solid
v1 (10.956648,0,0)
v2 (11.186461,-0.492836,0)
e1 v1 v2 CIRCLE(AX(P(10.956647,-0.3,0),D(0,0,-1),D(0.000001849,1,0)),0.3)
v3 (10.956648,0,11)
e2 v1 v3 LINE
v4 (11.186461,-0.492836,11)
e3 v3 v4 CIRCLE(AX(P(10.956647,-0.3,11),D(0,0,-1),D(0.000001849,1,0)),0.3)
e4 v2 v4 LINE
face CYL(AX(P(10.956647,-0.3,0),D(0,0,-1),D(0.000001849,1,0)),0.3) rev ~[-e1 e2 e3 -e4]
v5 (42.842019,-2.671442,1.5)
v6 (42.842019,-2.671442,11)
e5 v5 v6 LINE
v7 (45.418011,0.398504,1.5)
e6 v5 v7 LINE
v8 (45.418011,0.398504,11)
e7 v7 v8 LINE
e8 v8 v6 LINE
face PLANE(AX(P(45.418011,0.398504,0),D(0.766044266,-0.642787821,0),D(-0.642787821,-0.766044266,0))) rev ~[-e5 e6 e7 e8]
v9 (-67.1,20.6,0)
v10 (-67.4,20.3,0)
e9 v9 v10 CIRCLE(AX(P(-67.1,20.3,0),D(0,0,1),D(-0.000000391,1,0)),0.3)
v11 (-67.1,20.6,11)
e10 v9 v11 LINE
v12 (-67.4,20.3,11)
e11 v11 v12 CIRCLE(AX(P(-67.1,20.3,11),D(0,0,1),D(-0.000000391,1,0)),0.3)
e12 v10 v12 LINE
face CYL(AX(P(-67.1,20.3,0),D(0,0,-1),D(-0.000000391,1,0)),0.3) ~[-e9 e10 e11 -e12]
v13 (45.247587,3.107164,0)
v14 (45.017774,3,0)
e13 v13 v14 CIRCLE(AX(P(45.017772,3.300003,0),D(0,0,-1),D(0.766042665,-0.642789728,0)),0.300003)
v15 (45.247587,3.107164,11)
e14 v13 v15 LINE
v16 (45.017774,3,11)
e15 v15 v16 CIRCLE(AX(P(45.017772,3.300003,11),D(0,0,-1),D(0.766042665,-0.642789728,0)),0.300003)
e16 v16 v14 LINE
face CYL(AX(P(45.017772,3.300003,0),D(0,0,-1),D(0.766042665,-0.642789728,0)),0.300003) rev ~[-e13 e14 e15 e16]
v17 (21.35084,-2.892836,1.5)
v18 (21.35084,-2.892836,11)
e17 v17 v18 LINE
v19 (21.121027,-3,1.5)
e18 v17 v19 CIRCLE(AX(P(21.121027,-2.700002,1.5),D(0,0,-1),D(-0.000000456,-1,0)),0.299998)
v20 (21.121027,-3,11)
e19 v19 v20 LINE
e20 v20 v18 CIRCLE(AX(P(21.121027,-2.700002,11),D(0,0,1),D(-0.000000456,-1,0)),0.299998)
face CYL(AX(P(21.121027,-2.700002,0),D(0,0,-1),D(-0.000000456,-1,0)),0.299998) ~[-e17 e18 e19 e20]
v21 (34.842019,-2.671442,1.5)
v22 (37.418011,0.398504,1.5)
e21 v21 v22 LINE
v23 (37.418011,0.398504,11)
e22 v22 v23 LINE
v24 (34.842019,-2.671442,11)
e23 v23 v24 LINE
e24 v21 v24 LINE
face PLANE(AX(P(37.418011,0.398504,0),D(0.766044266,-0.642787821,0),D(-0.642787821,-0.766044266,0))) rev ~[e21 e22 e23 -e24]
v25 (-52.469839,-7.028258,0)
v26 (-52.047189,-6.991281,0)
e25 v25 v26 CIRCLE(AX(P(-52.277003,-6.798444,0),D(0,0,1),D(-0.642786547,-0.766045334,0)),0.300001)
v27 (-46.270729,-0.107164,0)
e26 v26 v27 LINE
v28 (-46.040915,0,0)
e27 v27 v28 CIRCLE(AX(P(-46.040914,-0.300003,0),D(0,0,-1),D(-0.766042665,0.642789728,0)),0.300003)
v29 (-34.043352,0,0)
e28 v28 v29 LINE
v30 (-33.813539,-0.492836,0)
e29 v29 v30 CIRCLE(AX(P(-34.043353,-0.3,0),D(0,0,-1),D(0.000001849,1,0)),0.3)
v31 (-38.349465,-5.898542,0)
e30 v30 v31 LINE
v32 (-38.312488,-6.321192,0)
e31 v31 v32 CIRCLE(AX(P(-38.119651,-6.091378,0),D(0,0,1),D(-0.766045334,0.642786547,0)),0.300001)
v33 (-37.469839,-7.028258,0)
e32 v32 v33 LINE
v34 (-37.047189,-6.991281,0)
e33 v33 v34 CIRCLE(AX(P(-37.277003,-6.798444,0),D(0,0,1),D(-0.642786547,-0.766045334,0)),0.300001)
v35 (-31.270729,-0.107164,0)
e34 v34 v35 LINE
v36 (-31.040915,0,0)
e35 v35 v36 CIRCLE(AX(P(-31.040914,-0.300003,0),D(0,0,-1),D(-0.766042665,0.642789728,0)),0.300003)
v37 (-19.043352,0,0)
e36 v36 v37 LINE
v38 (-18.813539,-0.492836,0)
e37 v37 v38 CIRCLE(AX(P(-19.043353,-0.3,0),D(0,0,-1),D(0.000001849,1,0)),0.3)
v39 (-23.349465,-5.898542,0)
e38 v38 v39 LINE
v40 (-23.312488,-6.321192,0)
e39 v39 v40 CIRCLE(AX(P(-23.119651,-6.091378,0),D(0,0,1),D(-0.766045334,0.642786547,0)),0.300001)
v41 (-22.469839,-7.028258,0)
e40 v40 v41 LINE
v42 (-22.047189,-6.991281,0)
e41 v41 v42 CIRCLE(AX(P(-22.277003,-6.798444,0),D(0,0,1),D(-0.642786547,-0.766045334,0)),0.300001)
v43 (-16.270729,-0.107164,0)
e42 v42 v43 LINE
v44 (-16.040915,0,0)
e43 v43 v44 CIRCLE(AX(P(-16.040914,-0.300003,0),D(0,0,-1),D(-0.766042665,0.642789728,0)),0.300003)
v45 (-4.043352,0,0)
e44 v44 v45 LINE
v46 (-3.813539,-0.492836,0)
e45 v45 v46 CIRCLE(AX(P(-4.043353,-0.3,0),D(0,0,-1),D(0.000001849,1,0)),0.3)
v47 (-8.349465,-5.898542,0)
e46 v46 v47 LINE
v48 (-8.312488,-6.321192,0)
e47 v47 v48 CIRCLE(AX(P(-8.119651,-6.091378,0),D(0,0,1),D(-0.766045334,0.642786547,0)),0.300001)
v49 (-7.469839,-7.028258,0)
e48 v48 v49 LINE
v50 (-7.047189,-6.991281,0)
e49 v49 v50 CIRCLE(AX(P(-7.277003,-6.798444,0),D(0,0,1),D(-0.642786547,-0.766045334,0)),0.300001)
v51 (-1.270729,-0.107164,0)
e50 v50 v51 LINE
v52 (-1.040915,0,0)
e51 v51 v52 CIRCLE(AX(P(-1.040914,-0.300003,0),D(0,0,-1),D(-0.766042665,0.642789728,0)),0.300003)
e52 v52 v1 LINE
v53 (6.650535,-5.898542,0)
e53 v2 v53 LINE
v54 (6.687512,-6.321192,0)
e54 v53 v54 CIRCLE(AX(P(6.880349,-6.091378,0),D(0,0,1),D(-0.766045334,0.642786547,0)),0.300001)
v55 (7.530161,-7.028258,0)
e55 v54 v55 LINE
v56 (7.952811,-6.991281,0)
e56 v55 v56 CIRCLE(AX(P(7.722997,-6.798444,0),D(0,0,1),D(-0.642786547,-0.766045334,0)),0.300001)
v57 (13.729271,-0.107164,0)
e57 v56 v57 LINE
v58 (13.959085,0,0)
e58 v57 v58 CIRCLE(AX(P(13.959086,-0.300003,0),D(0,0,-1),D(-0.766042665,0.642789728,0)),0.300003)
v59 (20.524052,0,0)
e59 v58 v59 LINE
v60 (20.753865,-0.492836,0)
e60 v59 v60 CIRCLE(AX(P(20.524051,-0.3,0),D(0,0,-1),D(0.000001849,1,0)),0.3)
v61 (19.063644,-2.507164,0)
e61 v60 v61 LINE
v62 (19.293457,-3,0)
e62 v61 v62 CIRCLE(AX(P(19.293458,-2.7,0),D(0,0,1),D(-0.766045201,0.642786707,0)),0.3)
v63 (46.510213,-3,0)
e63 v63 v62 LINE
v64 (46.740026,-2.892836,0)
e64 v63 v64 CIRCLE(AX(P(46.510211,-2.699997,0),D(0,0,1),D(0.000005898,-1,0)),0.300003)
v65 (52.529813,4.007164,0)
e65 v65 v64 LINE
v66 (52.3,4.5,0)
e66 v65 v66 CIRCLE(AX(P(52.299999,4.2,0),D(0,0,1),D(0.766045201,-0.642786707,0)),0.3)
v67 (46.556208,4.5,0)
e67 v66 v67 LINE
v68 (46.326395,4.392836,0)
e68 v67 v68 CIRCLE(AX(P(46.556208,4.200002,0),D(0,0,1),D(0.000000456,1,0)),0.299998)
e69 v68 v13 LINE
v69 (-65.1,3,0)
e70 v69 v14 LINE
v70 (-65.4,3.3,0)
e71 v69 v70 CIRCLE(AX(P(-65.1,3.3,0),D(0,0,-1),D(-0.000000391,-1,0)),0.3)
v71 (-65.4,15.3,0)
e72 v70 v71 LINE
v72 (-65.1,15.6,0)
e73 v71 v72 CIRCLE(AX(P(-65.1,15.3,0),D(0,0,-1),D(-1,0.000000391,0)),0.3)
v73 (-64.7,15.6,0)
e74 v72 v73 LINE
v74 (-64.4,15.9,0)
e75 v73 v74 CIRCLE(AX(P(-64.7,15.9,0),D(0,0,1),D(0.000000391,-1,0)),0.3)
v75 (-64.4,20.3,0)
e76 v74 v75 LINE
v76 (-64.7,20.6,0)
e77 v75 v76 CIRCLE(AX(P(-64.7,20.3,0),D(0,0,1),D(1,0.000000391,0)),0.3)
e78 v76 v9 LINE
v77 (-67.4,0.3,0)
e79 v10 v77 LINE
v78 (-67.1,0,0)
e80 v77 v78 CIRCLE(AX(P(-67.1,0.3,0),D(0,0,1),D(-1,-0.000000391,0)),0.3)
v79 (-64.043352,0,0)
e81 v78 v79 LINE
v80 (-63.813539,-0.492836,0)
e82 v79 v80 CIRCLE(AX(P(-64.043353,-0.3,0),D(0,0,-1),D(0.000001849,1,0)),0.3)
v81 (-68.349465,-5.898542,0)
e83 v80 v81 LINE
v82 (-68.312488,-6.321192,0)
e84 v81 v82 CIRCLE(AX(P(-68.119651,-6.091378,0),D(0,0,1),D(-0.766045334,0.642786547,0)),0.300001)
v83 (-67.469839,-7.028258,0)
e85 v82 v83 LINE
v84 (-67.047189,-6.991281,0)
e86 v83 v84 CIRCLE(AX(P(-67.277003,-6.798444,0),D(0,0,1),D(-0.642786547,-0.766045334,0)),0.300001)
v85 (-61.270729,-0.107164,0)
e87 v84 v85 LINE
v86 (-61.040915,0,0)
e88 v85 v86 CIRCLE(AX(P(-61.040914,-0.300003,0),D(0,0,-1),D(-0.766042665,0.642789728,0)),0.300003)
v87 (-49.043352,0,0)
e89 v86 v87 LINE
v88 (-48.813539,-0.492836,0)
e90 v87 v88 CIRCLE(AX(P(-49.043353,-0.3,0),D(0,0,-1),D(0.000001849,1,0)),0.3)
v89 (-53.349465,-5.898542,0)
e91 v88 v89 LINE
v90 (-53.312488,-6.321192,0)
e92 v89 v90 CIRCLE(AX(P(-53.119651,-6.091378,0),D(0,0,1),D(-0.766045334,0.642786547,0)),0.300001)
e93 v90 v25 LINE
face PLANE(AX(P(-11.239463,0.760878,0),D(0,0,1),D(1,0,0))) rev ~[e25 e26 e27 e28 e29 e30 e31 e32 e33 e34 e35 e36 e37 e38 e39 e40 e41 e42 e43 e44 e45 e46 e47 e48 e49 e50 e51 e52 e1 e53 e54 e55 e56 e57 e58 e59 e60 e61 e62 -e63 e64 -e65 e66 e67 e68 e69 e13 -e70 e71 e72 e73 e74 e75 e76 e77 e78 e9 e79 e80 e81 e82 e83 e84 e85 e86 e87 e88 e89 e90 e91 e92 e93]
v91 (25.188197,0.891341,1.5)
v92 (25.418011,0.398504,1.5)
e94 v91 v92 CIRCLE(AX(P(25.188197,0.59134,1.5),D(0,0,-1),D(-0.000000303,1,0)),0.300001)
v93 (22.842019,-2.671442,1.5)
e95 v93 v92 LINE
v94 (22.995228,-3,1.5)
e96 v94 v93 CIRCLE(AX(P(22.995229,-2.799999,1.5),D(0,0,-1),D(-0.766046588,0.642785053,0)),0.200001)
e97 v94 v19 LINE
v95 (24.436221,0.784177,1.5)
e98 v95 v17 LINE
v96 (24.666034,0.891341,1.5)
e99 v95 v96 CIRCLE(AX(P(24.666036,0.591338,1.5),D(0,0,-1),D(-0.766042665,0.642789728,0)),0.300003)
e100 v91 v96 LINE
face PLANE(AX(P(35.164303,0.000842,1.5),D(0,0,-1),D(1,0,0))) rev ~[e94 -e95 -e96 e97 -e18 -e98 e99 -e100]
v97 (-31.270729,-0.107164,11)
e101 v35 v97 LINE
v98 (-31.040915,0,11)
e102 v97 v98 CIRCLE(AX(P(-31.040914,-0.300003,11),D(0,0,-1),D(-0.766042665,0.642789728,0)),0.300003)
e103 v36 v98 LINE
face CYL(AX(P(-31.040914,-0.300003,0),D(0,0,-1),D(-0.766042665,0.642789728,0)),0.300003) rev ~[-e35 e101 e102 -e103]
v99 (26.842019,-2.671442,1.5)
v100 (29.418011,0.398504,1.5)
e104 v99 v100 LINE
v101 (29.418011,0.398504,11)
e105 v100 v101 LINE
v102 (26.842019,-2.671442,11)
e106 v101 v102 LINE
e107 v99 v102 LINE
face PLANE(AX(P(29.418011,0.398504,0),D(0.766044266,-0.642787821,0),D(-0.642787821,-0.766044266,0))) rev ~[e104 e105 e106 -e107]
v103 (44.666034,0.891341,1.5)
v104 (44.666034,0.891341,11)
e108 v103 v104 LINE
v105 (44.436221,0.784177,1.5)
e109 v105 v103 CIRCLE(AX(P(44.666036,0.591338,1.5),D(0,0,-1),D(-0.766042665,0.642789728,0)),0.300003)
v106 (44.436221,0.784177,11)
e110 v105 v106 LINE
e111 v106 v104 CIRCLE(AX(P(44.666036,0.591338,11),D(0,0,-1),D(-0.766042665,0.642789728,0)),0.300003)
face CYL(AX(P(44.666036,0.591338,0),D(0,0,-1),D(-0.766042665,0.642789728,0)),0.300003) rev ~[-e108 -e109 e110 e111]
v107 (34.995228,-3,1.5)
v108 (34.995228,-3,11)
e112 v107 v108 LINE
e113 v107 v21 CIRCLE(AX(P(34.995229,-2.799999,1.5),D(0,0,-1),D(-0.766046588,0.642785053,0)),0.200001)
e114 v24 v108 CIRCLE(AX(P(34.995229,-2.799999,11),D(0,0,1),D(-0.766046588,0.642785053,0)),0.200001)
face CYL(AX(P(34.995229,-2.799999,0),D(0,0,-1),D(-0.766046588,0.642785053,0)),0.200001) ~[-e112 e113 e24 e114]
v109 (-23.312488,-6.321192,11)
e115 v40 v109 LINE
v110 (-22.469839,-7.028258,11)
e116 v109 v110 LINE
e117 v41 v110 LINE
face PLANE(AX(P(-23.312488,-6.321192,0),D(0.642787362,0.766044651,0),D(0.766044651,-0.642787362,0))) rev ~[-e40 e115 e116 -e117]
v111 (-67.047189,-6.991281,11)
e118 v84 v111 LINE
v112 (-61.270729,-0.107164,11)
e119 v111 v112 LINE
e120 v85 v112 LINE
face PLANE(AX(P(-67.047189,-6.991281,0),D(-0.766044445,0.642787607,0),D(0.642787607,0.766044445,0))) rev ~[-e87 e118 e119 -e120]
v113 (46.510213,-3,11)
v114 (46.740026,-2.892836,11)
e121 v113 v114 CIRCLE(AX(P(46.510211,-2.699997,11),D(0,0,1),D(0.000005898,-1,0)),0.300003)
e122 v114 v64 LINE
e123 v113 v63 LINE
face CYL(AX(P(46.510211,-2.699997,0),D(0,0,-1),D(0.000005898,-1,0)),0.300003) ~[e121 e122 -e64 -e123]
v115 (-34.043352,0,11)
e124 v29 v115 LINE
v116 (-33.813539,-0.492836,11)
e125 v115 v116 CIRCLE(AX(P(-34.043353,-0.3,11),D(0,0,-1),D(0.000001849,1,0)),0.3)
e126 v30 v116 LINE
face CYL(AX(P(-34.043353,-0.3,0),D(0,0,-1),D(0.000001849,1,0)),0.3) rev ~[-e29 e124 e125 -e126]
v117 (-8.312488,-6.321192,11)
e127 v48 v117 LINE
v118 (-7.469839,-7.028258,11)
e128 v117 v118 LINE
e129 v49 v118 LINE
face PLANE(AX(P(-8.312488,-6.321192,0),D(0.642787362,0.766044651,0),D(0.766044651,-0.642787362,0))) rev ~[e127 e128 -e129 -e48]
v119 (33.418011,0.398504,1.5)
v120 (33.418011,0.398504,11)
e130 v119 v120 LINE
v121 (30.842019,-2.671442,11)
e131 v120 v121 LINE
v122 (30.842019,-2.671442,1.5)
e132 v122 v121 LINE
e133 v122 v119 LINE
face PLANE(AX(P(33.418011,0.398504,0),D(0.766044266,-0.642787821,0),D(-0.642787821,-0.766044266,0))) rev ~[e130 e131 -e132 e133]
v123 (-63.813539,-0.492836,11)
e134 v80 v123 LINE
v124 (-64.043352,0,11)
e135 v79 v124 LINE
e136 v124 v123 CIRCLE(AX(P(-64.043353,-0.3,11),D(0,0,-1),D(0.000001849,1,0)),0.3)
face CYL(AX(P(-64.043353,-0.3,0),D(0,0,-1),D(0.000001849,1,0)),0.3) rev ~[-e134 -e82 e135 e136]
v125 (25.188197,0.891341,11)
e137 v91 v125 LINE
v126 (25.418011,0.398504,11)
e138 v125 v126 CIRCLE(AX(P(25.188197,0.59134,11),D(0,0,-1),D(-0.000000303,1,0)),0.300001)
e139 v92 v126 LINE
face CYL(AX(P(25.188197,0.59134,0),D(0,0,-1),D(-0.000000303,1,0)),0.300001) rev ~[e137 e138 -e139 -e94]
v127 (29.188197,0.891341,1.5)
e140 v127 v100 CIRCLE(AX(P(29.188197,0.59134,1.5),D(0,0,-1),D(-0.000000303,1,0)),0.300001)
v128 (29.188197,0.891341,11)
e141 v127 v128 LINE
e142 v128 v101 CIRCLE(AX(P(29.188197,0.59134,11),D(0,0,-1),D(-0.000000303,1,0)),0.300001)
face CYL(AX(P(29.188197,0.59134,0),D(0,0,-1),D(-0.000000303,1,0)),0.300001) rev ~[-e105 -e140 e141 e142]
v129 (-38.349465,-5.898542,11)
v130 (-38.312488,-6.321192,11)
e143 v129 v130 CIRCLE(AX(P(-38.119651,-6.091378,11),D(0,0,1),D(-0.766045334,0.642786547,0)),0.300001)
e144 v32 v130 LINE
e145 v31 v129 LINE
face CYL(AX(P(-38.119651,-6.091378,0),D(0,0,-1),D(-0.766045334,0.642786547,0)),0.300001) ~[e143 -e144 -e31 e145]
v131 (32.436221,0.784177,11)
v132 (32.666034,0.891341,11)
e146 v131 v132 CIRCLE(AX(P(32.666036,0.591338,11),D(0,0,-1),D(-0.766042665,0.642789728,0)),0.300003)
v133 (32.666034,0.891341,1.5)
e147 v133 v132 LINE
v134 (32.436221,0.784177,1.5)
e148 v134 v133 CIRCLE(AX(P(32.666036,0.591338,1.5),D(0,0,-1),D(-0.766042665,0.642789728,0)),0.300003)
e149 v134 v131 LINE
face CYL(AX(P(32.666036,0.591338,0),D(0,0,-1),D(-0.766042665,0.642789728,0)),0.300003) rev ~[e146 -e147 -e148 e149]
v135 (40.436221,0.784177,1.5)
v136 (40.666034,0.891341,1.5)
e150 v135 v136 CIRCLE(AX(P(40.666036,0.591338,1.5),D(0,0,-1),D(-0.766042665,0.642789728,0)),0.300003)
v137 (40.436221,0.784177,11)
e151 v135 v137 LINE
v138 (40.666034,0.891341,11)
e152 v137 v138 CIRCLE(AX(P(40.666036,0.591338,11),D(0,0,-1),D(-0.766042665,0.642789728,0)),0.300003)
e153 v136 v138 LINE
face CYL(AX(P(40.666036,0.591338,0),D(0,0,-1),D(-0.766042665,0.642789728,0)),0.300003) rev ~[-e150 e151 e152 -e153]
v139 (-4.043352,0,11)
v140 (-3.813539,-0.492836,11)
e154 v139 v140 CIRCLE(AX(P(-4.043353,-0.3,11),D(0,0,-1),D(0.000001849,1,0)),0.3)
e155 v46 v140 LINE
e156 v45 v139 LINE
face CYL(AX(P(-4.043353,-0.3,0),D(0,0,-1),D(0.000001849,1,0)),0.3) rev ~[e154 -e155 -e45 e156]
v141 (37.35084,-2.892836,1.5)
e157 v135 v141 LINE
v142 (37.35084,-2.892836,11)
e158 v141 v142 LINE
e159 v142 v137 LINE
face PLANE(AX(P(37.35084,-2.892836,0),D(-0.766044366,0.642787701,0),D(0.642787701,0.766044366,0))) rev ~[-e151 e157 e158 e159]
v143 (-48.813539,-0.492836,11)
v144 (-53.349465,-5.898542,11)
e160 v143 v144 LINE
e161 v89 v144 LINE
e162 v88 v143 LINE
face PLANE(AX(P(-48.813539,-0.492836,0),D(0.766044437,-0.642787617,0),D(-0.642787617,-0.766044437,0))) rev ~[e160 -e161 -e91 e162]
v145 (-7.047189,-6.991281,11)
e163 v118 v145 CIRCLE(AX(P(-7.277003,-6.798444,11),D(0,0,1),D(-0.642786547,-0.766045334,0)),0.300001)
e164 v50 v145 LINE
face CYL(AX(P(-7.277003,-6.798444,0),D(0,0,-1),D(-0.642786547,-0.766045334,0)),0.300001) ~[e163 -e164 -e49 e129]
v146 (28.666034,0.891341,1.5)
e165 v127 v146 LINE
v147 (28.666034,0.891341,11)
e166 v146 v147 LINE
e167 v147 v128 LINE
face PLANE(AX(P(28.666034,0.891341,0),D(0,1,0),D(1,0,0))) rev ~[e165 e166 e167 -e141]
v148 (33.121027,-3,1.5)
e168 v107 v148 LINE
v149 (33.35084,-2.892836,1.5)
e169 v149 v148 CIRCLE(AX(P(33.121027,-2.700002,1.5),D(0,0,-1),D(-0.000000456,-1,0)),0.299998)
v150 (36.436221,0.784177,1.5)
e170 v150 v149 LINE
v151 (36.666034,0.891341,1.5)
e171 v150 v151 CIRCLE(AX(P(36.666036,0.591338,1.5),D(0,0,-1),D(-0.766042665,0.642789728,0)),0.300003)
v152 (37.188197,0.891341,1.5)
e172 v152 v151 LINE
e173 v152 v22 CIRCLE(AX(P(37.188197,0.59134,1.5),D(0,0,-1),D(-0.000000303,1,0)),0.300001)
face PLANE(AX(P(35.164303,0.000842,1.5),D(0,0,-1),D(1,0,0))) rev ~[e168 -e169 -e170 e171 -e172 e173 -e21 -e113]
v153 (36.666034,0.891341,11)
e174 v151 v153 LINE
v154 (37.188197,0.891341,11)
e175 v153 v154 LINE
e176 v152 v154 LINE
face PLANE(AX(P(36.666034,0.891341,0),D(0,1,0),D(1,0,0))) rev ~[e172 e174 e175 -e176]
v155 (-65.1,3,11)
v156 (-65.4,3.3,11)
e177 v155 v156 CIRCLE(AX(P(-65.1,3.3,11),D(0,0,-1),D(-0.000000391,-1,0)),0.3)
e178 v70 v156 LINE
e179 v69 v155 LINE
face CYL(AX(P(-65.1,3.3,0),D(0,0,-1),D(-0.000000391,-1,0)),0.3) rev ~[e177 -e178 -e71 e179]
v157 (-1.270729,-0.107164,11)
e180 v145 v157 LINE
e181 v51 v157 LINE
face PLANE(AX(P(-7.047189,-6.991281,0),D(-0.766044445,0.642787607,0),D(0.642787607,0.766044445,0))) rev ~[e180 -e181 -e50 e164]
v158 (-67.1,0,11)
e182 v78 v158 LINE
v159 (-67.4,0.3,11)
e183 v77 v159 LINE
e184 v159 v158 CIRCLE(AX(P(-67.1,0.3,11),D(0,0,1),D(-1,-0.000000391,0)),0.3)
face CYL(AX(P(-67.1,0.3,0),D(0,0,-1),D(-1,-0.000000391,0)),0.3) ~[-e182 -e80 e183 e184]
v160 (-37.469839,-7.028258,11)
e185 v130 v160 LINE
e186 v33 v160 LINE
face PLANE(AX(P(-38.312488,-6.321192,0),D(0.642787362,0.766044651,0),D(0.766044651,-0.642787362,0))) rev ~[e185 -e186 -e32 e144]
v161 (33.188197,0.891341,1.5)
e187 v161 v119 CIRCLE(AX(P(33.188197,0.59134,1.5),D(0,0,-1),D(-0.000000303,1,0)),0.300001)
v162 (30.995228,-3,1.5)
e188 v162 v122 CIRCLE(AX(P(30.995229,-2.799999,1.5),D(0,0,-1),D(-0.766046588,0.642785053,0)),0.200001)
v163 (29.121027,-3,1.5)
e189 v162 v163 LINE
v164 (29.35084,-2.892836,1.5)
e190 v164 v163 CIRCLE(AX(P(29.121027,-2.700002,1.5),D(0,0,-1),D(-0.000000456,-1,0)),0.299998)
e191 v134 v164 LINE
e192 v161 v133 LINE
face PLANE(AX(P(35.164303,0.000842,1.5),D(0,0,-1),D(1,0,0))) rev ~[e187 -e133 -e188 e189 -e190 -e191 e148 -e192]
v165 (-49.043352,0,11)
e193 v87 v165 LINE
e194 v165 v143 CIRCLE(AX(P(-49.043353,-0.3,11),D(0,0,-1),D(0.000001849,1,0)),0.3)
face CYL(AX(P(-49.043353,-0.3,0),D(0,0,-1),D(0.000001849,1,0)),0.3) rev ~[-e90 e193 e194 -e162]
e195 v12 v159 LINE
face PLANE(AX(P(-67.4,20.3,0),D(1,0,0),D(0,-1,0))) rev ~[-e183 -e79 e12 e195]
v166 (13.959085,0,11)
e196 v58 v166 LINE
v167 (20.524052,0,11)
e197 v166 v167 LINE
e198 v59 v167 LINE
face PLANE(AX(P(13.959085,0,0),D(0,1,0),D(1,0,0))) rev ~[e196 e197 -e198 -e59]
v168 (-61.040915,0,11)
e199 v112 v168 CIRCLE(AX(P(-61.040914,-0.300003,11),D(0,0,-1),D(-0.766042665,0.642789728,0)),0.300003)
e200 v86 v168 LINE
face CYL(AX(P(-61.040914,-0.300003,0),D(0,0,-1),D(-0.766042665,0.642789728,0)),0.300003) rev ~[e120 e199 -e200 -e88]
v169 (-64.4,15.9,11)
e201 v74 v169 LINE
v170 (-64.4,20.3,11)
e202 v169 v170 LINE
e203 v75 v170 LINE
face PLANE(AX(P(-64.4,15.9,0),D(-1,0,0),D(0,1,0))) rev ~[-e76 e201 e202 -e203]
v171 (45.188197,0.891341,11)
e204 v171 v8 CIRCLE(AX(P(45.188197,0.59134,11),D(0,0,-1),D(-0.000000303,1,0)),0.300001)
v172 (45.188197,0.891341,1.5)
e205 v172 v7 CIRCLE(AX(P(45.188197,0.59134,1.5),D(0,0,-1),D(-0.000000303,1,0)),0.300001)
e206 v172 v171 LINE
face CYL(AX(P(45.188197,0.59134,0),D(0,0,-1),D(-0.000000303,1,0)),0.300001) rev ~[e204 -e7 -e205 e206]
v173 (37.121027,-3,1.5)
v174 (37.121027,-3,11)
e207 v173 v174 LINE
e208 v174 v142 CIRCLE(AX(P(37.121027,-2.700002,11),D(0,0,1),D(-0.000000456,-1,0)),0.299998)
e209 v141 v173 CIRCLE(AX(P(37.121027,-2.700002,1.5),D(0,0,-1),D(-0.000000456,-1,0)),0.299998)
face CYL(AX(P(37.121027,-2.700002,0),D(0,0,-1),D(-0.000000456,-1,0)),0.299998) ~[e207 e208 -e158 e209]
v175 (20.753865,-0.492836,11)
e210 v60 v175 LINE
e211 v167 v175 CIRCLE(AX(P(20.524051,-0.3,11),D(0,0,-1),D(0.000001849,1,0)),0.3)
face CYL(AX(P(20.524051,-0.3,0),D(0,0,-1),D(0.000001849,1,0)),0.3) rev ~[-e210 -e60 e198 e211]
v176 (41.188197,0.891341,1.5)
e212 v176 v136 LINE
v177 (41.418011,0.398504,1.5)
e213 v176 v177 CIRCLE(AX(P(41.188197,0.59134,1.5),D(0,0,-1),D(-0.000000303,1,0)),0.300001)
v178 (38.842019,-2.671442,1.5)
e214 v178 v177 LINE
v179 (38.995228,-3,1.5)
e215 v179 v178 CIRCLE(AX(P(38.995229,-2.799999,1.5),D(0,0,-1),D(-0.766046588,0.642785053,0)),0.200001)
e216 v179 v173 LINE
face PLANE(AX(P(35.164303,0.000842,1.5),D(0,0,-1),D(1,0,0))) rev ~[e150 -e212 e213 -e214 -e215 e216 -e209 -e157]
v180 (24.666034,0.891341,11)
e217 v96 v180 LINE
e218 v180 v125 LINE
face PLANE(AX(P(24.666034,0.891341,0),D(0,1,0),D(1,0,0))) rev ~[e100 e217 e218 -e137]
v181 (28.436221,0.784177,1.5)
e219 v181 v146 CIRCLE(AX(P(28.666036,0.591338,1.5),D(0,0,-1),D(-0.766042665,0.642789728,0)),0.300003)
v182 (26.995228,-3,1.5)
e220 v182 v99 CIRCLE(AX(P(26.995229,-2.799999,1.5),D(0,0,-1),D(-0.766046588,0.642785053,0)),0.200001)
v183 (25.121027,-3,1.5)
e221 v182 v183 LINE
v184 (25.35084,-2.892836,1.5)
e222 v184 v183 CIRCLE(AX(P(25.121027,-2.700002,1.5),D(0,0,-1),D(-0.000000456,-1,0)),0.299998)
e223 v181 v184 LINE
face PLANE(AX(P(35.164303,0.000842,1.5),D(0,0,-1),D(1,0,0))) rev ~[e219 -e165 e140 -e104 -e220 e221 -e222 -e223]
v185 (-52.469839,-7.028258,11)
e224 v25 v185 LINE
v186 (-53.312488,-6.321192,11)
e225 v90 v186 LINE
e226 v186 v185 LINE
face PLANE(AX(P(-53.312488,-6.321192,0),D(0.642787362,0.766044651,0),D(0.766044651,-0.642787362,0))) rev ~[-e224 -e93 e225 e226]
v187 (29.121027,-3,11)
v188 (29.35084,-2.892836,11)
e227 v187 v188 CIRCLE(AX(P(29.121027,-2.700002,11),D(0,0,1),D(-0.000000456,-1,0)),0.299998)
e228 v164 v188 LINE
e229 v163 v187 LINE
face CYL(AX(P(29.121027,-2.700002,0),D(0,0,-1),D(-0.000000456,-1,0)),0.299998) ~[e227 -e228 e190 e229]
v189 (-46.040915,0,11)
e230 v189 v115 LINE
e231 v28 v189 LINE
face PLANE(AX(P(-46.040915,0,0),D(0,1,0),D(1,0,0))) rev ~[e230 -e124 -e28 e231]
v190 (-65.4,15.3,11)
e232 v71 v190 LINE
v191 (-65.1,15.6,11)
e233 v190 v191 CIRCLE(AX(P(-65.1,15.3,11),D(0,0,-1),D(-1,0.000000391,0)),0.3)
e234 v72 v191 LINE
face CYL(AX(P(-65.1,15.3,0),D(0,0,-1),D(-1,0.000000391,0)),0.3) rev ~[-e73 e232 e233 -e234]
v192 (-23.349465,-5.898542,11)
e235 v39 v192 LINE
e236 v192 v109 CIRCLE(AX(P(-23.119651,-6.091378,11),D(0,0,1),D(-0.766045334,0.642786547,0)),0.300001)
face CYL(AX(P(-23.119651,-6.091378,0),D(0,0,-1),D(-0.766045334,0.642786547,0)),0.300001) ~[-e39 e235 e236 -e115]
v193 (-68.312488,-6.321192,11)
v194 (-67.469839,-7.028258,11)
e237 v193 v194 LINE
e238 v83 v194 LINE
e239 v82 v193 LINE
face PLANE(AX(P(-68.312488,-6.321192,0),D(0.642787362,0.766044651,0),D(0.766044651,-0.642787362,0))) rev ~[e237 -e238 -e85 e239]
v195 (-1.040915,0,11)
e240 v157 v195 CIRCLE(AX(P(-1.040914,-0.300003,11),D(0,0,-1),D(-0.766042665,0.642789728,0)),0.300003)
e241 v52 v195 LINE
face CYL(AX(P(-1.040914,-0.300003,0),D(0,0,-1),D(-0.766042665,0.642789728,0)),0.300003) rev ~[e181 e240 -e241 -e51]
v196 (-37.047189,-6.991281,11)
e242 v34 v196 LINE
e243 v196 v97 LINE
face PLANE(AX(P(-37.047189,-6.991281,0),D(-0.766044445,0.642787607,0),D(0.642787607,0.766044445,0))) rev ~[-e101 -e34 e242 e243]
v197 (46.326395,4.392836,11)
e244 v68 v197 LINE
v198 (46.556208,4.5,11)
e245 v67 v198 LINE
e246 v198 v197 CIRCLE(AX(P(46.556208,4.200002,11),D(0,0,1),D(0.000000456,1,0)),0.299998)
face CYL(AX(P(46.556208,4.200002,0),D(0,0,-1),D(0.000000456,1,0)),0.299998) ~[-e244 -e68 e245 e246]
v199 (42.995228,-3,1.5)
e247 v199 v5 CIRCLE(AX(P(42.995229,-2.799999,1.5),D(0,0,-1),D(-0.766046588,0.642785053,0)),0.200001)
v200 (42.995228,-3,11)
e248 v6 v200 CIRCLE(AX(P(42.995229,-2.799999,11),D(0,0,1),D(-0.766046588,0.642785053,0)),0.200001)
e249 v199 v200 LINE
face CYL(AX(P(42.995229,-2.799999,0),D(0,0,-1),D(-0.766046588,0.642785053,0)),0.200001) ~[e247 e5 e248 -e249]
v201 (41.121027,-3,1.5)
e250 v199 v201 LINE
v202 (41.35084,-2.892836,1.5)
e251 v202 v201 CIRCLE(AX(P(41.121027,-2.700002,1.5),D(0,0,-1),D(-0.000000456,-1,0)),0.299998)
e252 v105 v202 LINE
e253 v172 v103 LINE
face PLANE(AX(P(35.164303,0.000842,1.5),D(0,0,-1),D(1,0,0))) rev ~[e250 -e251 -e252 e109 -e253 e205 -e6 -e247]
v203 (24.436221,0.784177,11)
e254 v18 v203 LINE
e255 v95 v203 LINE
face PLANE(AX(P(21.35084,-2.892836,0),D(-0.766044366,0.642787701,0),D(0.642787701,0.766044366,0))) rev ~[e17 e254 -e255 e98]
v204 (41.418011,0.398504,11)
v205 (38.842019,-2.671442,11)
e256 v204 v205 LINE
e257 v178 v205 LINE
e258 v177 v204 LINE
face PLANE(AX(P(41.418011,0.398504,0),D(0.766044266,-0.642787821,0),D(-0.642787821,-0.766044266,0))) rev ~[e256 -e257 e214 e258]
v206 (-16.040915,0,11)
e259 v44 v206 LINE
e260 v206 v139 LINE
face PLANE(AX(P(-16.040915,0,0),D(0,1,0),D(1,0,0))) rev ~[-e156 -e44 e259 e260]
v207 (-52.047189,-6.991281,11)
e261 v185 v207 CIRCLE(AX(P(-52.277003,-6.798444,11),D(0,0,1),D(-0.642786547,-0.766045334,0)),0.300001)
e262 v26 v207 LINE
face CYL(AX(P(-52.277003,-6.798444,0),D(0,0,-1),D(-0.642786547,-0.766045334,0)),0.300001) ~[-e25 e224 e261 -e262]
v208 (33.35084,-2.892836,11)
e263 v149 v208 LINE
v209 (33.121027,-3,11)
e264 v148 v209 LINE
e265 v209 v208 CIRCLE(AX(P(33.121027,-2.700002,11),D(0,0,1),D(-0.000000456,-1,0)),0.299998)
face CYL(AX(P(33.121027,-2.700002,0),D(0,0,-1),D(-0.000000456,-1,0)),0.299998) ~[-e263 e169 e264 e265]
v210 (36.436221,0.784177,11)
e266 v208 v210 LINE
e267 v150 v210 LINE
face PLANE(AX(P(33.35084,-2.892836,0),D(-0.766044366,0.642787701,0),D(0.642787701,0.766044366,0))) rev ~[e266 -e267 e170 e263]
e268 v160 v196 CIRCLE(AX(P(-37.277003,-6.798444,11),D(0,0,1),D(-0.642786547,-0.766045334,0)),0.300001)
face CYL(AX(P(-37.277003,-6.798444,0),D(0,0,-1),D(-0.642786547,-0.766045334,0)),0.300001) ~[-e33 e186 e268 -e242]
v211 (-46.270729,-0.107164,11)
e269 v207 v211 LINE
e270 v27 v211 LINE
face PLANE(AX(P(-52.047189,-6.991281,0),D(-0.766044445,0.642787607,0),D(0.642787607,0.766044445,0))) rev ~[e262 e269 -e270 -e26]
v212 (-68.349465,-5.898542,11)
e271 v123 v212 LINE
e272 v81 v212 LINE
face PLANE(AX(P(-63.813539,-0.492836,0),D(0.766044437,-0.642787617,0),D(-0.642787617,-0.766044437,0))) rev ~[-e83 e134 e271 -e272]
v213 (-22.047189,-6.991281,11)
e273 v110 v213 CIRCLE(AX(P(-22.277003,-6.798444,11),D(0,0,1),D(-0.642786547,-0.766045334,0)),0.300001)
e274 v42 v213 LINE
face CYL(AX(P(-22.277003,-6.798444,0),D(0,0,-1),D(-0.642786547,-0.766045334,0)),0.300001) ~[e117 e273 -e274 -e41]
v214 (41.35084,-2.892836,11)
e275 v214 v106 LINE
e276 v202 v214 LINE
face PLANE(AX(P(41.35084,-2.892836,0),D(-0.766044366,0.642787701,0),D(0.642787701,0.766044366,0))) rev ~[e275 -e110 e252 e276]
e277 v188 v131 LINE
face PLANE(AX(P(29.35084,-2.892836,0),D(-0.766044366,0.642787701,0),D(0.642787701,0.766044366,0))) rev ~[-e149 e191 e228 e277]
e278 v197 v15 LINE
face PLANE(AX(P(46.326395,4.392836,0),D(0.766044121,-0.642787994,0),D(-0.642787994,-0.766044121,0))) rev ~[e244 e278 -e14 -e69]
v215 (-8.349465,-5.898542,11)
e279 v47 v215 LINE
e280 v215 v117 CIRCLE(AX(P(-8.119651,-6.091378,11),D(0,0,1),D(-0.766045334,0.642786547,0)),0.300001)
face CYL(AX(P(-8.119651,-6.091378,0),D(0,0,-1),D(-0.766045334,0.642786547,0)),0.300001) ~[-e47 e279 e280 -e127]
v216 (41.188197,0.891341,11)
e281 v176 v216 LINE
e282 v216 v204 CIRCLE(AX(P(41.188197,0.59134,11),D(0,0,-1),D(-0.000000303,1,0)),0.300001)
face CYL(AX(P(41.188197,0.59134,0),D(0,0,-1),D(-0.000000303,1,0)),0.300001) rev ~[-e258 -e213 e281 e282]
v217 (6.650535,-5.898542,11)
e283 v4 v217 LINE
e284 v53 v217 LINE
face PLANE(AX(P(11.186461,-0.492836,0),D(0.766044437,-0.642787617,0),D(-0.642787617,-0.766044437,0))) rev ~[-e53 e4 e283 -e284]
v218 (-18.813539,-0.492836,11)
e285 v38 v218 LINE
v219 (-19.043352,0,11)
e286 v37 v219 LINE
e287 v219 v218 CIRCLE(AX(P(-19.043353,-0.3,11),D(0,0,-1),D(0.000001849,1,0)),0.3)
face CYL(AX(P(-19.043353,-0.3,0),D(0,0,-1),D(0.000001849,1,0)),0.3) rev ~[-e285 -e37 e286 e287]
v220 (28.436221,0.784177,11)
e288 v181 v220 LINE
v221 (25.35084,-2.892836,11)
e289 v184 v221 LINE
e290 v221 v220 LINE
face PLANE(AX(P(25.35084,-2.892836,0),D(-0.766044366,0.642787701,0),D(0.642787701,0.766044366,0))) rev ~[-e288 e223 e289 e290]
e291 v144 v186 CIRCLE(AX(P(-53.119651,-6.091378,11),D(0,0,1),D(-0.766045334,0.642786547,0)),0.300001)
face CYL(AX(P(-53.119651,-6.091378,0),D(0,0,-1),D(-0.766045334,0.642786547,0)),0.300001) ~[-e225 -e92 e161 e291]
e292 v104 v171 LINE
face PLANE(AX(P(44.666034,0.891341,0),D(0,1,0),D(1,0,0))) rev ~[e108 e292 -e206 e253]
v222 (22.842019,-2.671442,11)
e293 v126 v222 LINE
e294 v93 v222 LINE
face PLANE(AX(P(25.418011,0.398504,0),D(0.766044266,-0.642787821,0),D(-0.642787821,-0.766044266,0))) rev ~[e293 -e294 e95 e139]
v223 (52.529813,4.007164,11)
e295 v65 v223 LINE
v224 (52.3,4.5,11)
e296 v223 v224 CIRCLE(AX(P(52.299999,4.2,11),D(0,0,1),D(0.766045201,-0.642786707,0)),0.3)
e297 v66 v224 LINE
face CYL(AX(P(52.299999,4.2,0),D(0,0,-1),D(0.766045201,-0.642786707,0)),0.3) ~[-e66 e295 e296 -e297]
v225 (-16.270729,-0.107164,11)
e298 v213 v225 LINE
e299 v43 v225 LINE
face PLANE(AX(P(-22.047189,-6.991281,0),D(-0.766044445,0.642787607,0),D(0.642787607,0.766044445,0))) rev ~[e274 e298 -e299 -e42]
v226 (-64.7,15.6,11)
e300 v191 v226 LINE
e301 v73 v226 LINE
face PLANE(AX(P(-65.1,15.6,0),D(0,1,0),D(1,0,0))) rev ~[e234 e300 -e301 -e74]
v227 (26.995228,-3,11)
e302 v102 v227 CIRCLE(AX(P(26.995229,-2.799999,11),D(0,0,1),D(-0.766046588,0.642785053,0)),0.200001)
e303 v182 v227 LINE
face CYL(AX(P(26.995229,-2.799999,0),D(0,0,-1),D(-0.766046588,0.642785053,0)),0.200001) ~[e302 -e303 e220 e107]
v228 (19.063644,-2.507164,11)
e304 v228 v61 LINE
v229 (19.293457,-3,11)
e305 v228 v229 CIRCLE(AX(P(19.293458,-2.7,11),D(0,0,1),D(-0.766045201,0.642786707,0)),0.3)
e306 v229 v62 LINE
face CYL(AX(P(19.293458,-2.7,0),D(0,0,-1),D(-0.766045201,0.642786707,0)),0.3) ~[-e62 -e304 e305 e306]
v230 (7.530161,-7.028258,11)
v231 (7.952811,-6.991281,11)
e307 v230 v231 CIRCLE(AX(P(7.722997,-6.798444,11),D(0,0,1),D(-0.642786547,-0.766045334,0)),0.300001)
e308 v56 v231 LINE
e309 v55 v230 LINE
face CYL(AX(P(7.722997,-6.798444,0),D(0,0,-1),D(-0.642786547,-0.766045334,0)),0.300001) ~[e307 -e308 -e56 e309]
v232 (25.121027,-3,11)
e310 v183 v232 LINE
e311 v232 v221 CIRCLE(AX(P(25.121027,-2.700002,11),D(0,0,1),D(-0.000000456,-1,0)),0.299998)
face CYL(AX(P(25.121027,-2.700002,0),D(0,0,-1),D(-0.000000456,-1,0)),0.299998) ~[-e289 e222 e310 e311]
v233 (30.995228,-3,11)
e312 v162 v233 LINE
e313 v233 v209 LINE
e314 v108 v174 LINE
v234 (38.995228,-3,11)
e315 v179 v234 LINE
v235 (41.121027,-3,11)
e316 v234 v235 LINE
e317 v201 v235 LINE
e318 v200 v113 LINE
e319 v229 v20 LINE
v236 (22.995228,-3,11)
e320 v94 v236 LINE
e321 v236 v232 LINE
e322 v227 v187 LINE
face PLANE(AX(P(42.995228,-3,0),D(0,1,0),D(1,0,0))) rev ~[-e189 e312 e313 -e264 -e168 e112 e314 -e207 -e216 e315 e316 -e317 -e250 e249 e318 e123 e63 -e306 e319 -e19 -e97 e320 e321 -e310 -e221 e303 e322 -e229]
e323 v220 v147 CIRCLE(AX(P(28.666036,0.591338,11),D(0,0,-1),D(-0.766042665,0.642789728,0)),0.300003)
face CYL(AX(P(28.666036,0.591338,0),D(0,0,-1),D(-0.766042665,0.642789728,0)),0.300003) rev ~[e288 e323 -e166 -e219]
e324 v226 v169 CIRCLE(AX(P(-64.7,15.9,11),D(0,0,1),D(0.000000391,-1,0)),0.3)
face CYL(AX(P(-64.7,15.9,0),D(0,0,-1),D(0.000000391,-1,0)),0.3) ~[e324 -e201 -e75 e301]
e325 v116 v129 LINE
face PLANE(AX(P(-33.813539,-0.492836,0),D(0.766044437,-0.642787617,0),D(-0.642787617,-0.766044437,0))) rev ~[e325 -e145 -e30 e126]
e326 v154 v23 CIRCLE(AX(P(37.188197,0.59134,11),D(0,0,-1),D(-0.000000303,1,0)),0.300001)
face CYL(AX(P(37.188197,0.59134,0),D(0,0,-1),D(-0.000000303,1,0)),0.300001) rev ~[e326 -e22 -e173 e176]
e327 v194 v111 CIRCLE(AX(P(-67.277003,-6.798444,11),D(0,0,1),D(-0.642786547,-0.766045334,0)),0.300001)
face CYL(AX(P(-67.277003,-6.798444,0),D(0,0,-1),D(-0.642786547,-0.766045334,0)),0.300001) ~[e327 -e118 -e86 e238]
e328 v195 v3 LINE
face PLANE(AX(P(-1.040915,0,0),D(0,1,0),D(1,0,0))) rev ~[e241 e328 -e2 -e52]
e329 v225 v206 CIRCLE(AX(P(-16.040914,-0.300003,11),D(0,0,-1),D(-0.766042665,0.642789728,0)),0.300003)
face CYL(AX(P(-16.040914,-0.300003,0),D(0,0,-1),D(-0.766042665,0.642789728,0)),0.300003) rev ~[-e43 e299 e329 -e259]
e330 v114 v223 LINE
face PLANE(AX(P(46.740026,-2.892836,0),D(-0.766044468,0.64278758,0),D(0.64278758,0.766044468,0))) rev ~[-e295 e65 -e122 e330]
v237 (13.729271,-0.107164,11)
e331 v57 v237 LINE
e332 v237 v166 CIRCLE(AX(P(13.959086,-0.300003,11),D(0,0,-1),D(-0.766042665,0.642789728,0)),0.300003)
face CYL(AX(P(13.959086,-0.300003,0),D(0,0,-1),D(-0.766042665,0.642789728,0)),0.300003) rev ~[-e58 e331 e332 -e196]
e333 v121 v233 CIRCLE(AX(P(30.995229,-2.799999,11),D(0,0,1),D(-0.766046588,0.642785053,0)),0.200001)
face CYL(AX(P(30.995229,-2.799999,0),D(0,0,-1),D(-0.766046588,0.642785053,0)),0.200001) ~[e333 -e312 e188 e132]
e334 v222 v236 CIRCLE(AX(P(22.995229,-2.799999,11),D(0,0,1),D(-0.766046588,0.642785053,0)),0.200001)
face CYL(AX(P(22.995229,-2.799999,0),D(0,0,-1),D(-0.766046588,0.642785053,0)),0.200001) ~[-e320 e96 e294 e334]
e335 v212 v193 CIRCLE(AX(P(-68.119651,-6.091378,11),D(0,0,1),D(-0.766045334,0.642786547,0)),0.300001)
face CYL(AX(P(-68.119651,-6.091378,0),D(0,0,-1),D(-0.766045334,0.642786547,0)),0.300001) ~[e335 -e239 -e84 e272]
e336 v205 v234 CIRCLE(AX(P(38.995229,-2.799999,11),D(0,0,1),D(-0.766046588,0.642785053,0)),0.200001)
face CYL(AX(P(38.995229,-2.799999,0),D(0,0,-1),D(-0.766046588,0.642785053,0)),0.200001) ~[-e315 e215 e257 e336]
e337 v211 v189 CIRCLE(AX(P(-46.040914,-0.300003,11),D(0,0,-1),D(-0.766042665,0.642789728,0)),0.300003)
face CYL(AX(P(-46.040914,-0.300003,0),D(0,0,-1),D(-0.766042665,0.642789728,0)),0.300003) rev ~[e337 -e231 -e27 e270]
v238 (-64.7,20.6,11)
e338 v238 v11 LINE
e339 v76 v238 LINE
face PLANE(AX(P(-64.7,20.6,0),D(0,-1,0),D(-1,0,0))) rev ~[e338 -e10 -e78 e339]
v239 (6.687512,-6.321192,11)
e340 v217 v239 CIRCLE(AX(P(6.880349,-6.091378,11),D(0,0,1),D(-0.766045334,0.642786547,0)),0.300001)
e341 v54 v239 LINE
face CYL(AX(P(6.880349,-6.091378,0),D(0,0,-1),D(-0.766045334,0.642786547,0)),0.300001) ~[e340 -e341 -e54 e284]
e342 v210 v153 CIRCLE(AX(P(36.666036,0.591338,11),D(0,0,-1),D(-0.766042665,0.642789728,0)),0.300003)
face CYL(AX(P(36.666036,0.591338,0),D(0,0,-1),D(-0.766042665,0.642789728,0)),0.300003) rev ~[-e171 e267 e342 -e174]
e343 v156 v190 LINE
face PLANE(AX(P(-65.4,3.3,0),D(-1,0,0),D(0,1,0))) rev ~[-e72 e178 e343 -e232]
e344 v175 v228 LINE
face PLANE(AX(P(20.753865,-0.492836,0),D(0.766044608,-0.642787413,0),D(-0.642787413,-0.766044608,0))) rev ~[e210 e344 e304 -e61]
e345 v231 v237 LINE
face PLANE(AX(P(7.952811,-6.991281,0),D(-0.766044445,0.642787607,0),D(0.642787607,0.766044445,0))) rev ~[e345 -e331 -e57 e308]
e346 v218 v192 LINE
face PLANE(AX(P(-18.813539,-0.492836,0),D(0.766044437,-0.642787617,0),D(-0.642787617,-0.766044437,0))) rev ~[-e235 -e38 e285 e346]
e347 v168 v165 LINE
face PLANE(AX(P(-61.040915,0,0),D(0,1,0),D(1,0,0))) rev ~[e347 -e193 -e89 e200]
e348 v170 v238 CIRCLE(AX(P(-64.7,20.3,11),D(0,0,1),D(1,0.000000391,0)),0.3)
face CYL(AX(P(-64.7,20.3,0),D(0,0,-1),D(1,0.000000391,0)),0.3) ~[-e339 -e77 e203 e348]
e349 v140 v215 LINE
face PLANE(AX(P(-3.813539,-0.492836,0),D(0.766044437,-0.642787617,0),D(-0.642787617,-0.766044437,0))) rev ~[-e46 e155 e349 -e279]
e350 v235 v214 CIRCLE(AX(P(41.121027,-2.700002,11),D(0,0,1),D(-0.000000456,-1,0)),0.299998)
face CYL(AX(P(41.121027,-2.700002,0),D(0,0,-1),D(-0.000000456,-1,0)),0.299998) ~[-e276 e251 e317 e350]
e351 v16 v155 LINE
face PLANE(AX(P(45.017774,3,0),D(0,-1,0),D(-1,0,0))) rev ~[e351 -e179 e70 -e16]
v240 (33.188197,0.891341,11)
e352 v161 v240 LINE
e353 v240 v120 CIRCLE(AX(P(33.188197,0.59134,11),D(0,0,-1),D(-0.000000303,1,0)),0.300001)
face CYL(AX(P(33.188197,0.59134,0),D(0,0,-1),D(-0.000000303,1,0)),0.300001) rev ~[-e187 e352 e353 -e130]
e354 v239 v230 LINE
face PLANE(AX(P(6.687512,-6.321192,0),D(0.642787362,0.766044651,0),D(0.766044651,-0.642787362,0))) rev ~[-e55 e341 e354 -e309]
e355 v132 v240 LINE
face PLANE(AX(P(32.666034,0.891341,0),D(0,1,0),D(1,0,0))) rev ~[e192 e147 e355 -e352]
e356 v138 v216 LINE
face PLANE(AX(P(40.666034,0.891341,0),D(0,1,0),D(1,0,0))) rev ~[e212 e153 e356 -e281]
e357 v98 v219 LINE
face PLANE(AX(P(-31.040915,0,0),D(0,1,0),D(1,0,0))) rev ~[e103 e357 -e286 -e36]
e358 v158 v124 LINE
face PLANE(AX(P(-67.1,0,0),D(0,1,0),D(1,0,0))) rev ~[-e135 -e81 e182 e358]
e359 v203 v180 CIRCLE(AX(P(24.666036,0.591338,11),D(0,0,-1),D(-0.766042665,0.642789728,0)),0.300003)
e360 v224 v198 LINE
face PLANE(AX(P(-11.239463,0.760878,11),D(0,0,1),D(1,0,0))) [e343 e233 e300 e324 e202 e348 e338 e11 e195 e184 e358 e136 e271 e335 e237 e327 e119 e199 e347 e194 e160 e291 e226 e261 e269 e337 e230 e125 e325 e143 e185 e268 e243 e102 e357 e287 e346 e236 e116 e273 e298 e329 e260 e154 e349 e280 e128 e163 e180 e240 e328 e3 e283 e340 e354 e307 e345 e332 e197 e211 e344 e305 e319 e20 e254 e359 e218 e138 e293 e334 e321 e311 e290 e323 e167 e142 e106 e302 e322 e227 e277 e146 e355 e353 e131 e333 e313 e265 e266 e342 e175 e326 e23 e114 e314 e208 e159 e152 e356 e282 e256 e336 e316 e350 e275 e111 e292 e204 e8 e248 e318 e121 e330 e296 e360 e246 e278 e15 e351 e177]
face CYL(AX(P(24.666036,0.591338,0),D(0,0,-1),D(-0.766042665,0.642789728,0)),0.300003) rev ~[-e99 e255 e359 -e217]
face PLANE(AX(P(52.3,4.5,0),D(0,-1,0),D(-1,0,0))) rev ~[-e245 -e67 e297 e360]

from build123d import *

# Parameters (mm, degrees)
F1_DEPTH = 11
F3_DEPTH = 1.5


with BuildPart() as f1:
    # F0 (on Top) → F1 (new body)
    with BuildSketch(Plane.XY):
        with BuildLine():
            ThreePointArc((-67.1, 20.6), (-67.312132, 20.512132), (-67.4, 20.3))
            Line((-67.4, 20.3), (-67.4, 0.3))
            ThreePointArc((-67.4, 0.3), (-67.312132, 0.087868), (-67.1, 0))
            Line((-67.1, 0), (-64.043352, 0))
            ThreePointArc((-64.043352, 0), (-63.77146, -0.173215), (-63.813539, -0.492836))
            Line((-63.813539, -0.492836), (-68.349465, -5.898542))
            ThreePointArc((-68.349465, -5.898542), (-68.41851, -6.117525), (-68.312488, -6.321192))
            Line((-68.312488, -6.321192), (-67.469839, -7.028258))
            ThreePointArc((-67.469839, -7.028258), (-67.250856, -7.097303), (-67.047189, -6.991281))
            Line((-67.047189, -6.991281), (-61.270729, -0.107164))
            ThreePointArc((-61.270729, -0.107164), (-61.167701, -0.028108), (-61.040915, 0))
            Line((-61.040915, 0), (-49.043352, 0))
            ThreePointArc((-49.043352, 0), (-48.77146, -0.173215), (-48.813539, -0.492836))
            Line((-48.813539, -0.492836), (-53.349465, -5.898542))
            ThreePointArc((-53.349465, -5.898542), (-53.41851, -6.117525), (-53.312488, -6.321192))
            Line((-53.312488, -6.321192), (-52.469839, -7.028258))
            ThreePointArc((-52.469839, -7.028258), (-52.250856, -7.097303), (-52.047189, -6.991281))
            Line((-52.047189, -6.991281), (-46.270729, -0.107164))
            ThreePointArc((-46.270729, -0.107164), (-46.167701, -0.028108), (-46.040915, 0))
            Line((-46.040915, 0), (-34.043352, 0))
            ThreePointArc((-34.043352, 0), (-33.77146, -0.173215), (-33.813539, -0.492836))
            Line((-33.813539, -0.492836), (-38.349465, -5.898542))
            ThreePointArc((-38.349465, -5.898542), (-38.41851, -6.117525), (-38.312488, -6.321192))
            Line((-38.312488, -6.321192), (-37.469839, -7.028258))
            ThreePointArc((-37.469839, -7.028258), (-37.250856, -7.097303), (-37.047189, -6.991281))
            Line((-37.047189, -6.991281), (-31.270729, -0.107164))
            ThreePointArc((-31.270729, -0.107164), (-31.167701, -0.028108), (-31.040915, 0))
            Line((-31.040915, 0), (-19.043352, 0))
            ThreePointArc((-19.043352, 0), (-18.77146, -0.173215), (-18.813539, -0.492836))
            Line((-18.813539, -0.492836), (-23.349465, -5.898542))
            ThreePointArc((-23.349465, -5.898542), (-23.41851, -6.117525), (-23.312488, -6.321192))
            Line((-23.312488, -6.321192), (-22.469839, -7.028258))
            ThreePointArc((-22.469839, -7.028258), (-22.250856, -7.097303), (-22.047189, -6.991281))
            Line((-22.047189, -6.991281), (-16.270729, -0.107164))
            ThreePointArc((-16.270729, -0.107164), (-16.167701, -0.028108), (-16.040915, 0))
            Line((-16.040915, 0), (-4.043352, 0))
            ThreePointArc((-4.043352, 0), (-3.77146, -0.173215), (-3.813539, -0.492836))
            Line((-3.813539, -0.492836), (-8.349465, -5.898542))
            ThreePointArc((-8.349465, -5.898542), (-8.41851, -6.117525), (-8.312488, -6.321192))
            Line((-8.312488, -6.321192), (-7.469839, -7.028258))
            ThreePointArc((-7.469839, -7.028258), (-7.250856, -7.097303), (-7.047189, -6.991281))
            Line((-7.047189, -6.991281), (-1.270729, -0.107164))
            ThreePointArc((-1.270729, -0.107164), (-1.167701, -0.028108), (-1.040915, 0))
            Line((-1.040915, 0), (10.956648, 0))
            ThreePointArc((10.956648, 0), (11.22854, -0.173215), (11.186461, -0.492836))
            Line((11.186461, -0.492836), (6.650535, -5.898542))
            ThreePointArc((6.650535, -5.898542), (6.58149, -6.117525), (6.687512, -6.321192))
            Line((6.687512, -6.321192), (7.530161, -7.028258))
            ThreePointArc((7.530161, -7.028258), (7.749144, -7.097303), (7.952811, -6.991281))
            Line((7.952811, -6.991281), (13.729271, -0.107164))
            ThreePointArc((13.729271, -0.107164), (13.832299, -0.028108), (13.959085, 0))
            Line((13.959085, 0), (20.524052, 0))
            ThreePointArc((20.524052, 0), (20.795944, -0.173215), (20.753865, -0.492836))
            Line((20.753865, -0.492836), (19.063644, -2.507164))
            ThreePointArc((19.063644, -2.507164), (19.021565, -2.826785), (19.293457, -3))
            Line((19.293457, -3), (21.121027, -3))
            ThreePointArc((21.121027, -3), (21.247813, -2.971892), (21.35084, -2.892836))
            Line((21.35084, -2.892836), (24.436221, 0.784177))
            ThreePointArc((24.436221, 0.784177), (24.539249, 0.863233), (24.666034, 0.891341))
            Line((24.666034, 0.891341), (25.188197, 0.891341))
            ThreePointArc((25.188197, 0.891341), (25.46009, 0.718126), (25.418011, 0.398504))
            Line((25.418011, 0.398504), (22.842019, -2.671442))
            ThreePointArc((22.842019, -2.671442), (22.813967, -2.884524), (22.995228, -3))
            Line((22.995228, -3), (25.121027, -3))
            ThreePointArc((25.121027, -3), (25.247813, -2.971892), (25.35084, -2.892836))
            Line((25.35084, -2.892836), (28.436221, 0.784177))
            ThreePointArc((28.436221, 0.784177), (28.539249, 0.863233), (28.666034, 0.891341))
            Line((28.666034, 0.891341), (29.188197, 0.891341))
            ThreePointArc((29.188197, 0.891341), (29.46009, 0.718126), (29.418011, 0.398504))
            Line((29.418011, 0.398504), (26.842019, -2.671442))
            ThreePointArc((26.842019, -2.671442), (26.813967, -2.884524), (26.995228, -3))
            Line((26.995228, -3), (29.121027, -3))
            ThreePointArc((29.121027, -3), (29.247813, -2.971892), (29.35084, -2.892836))
            Line((29.35084, -2.892836), (32.436221, 0.784177))
            ThreePointArc((32.436221, 0.784177), (32.539249, 0.863233), (32.666034, 0.891341))
            Line((32.666034, 0.891341), (33.188197, 0.891341))
            ThreePointArc((33.188197, 0.891341), (33.46009, 0.718126), (33.418011, 0.398504))
            Line((33.418011, 0.398504), (30.842019, -2.671442))
            ThreePointArc((30.842019, -2.671442), (30.813967, -2.884524), (30.995228, -3))
            Line((30.995228, -3), (33.121027, -3))
            ThreePointArc((33.121027, -3), (33.247813, -2.971892), (33.35084, -2.892836))
            Line((33.35084, -2.892836), (36.436221, 0.784177))
            ThreePointArc((36.436221, 0.784177), (36.539249, 0.863233), (36.666034, 0.891341))
            Line((36.666034, 0.891341), (37.188197, 0.891341))
            ThreePointArc((37.188197, 0.891341), (37.46009, 0.718126), (37.418011, 0.398504))
            Line((37.418011, 0.398504), (34.842019, -2.671442))
            ThreePointArc((34.842019, -2.671442), (34.813967, -2.884524), (34.995228, -3))
            Line((34.995228, -3), (37.121027, -3))
            ThreePointArc((37.121027, -3), (37.247813, -2.971892), (37.35084, -2.892836))
            Line((37.35084, -2.892836), (40.436221, 0.784177))
            ThreePointArc((40.436221, 0.784177), (40.539249, 0.863233), (40.666034, 0.891341))
            Line((40.666034, 0.891341), (41.188197, 0.891341))
            ThreePointArc((41.188197, 0.891341), (41.46009, 0.718126), (41.418011, 0.398504))
            Line((41.418011, 0.398504), (38.842019, -2.671442))
            ThreePointArc((38.842019, -2.671442), (38.813967, -2.884524), (38.995228, -3))
            Line((38.995228, -3), (41.121027, -3))
            ThreePointArc((41.121027, -3), (41.247813, -2.971892), (41.35084, -2.892836))
            Line((41.35084, -2.892836), (44.436221, 0.784177))
            ThreePointArc((44.436221, 0.784177), (44.539249, 0.863233), (44.666034, 0.891341))
            Line((44.666034, 0.891341), (45.188197, 0.891341))
            ThreePointArc((45.188197, 0.891341), (45.46009, 0.718126), (45.418011, 0.398504))
            Line((45.418011, 0.398504), (42.842019, -2.671442))
            ThreePointArc((42.842019, -2.671442), (42.813967, -2.884524), (42.995228, -3))
            Line((42.995228, -3), (46.510213, -3))
            ThreePointArc((46.510213, -3), (46.636998, -2.971892), (46.740026, -2.892836))
            Line((46.740026, -2.892836), (52.529813, 4.007164))
            ThreePointArc((52.529813, 4.007164), (52.571892, 4.326785), (52.3, 4.5))
            Line((52.3, 4.5), (46.556208, 4.5))
            ThreePointArc((46.556208, 4.5), (46.429422, 4.471892), (46.326395, 4.392836))
            Line((46.326395, 4.392836), (45.247587, 3.107164))
            ThreePointArc((45.247587, 3.107164), (45.144559, 3.028108), (45.017774, 3))
            Line((45.017774, 3), (-65.1, 3))
            ThreePointArc((-65.1, 3), (-65.312132, 3.087868), (-65.4, 3.3))
            Line((-65.4, 3.3), (-65.4, 15.3))
            ThreePointArc((-65.4, 15.3), (-65.312132, 15.512132), (-65.1, 15.6))
            Line((-65.1, 15.6), (-64.7, 15.6))
            ThreePointArc((-64.7, 15.6), (-64.487868, 15.687868), (-64.4, 15.9))
            Line((-64.4, 15.9), (-64.4, 20.3))
            ThreePointArc((-64.4, 20.3), (-64.487868, 20.512132), (-64.7, 20.6))
            Line((-64.7, 20.6), (-67.1, 20.6))
        make_face()
    extrude(amount=F1_DEPTH)

    # F2 (on face) → F3 (join)
    with BuildSketch(Plane(origin=(0, 0, 0), x_dir=(1, 0, 0), z_dir=(0, 0, -1))):
        with BuildLine():
            Line((23.684703, -3), (51.041351, -3))
            ThreePointArc((51.041351, -3), (51.313243, -2.826785), (51.271164, -2.507164))
            Line((51.271164, -2.507164), (46.740026, 2.892836))
            ThreePointArc((46.740026, 2.892836), (46.636998, 2.971892), (46.510213, 3))
            Line((46.510213, 3), (19.293457, 3))
            ThreePointArc((19.293457, 3), (19.021565, 2.826785), (19.063644, 2.507164))
            Line((19.063644, 2.507164), (23.684703, -3))
        make_face()
    extrude(amount=-F3_DEPTH)


solid = f1.part
